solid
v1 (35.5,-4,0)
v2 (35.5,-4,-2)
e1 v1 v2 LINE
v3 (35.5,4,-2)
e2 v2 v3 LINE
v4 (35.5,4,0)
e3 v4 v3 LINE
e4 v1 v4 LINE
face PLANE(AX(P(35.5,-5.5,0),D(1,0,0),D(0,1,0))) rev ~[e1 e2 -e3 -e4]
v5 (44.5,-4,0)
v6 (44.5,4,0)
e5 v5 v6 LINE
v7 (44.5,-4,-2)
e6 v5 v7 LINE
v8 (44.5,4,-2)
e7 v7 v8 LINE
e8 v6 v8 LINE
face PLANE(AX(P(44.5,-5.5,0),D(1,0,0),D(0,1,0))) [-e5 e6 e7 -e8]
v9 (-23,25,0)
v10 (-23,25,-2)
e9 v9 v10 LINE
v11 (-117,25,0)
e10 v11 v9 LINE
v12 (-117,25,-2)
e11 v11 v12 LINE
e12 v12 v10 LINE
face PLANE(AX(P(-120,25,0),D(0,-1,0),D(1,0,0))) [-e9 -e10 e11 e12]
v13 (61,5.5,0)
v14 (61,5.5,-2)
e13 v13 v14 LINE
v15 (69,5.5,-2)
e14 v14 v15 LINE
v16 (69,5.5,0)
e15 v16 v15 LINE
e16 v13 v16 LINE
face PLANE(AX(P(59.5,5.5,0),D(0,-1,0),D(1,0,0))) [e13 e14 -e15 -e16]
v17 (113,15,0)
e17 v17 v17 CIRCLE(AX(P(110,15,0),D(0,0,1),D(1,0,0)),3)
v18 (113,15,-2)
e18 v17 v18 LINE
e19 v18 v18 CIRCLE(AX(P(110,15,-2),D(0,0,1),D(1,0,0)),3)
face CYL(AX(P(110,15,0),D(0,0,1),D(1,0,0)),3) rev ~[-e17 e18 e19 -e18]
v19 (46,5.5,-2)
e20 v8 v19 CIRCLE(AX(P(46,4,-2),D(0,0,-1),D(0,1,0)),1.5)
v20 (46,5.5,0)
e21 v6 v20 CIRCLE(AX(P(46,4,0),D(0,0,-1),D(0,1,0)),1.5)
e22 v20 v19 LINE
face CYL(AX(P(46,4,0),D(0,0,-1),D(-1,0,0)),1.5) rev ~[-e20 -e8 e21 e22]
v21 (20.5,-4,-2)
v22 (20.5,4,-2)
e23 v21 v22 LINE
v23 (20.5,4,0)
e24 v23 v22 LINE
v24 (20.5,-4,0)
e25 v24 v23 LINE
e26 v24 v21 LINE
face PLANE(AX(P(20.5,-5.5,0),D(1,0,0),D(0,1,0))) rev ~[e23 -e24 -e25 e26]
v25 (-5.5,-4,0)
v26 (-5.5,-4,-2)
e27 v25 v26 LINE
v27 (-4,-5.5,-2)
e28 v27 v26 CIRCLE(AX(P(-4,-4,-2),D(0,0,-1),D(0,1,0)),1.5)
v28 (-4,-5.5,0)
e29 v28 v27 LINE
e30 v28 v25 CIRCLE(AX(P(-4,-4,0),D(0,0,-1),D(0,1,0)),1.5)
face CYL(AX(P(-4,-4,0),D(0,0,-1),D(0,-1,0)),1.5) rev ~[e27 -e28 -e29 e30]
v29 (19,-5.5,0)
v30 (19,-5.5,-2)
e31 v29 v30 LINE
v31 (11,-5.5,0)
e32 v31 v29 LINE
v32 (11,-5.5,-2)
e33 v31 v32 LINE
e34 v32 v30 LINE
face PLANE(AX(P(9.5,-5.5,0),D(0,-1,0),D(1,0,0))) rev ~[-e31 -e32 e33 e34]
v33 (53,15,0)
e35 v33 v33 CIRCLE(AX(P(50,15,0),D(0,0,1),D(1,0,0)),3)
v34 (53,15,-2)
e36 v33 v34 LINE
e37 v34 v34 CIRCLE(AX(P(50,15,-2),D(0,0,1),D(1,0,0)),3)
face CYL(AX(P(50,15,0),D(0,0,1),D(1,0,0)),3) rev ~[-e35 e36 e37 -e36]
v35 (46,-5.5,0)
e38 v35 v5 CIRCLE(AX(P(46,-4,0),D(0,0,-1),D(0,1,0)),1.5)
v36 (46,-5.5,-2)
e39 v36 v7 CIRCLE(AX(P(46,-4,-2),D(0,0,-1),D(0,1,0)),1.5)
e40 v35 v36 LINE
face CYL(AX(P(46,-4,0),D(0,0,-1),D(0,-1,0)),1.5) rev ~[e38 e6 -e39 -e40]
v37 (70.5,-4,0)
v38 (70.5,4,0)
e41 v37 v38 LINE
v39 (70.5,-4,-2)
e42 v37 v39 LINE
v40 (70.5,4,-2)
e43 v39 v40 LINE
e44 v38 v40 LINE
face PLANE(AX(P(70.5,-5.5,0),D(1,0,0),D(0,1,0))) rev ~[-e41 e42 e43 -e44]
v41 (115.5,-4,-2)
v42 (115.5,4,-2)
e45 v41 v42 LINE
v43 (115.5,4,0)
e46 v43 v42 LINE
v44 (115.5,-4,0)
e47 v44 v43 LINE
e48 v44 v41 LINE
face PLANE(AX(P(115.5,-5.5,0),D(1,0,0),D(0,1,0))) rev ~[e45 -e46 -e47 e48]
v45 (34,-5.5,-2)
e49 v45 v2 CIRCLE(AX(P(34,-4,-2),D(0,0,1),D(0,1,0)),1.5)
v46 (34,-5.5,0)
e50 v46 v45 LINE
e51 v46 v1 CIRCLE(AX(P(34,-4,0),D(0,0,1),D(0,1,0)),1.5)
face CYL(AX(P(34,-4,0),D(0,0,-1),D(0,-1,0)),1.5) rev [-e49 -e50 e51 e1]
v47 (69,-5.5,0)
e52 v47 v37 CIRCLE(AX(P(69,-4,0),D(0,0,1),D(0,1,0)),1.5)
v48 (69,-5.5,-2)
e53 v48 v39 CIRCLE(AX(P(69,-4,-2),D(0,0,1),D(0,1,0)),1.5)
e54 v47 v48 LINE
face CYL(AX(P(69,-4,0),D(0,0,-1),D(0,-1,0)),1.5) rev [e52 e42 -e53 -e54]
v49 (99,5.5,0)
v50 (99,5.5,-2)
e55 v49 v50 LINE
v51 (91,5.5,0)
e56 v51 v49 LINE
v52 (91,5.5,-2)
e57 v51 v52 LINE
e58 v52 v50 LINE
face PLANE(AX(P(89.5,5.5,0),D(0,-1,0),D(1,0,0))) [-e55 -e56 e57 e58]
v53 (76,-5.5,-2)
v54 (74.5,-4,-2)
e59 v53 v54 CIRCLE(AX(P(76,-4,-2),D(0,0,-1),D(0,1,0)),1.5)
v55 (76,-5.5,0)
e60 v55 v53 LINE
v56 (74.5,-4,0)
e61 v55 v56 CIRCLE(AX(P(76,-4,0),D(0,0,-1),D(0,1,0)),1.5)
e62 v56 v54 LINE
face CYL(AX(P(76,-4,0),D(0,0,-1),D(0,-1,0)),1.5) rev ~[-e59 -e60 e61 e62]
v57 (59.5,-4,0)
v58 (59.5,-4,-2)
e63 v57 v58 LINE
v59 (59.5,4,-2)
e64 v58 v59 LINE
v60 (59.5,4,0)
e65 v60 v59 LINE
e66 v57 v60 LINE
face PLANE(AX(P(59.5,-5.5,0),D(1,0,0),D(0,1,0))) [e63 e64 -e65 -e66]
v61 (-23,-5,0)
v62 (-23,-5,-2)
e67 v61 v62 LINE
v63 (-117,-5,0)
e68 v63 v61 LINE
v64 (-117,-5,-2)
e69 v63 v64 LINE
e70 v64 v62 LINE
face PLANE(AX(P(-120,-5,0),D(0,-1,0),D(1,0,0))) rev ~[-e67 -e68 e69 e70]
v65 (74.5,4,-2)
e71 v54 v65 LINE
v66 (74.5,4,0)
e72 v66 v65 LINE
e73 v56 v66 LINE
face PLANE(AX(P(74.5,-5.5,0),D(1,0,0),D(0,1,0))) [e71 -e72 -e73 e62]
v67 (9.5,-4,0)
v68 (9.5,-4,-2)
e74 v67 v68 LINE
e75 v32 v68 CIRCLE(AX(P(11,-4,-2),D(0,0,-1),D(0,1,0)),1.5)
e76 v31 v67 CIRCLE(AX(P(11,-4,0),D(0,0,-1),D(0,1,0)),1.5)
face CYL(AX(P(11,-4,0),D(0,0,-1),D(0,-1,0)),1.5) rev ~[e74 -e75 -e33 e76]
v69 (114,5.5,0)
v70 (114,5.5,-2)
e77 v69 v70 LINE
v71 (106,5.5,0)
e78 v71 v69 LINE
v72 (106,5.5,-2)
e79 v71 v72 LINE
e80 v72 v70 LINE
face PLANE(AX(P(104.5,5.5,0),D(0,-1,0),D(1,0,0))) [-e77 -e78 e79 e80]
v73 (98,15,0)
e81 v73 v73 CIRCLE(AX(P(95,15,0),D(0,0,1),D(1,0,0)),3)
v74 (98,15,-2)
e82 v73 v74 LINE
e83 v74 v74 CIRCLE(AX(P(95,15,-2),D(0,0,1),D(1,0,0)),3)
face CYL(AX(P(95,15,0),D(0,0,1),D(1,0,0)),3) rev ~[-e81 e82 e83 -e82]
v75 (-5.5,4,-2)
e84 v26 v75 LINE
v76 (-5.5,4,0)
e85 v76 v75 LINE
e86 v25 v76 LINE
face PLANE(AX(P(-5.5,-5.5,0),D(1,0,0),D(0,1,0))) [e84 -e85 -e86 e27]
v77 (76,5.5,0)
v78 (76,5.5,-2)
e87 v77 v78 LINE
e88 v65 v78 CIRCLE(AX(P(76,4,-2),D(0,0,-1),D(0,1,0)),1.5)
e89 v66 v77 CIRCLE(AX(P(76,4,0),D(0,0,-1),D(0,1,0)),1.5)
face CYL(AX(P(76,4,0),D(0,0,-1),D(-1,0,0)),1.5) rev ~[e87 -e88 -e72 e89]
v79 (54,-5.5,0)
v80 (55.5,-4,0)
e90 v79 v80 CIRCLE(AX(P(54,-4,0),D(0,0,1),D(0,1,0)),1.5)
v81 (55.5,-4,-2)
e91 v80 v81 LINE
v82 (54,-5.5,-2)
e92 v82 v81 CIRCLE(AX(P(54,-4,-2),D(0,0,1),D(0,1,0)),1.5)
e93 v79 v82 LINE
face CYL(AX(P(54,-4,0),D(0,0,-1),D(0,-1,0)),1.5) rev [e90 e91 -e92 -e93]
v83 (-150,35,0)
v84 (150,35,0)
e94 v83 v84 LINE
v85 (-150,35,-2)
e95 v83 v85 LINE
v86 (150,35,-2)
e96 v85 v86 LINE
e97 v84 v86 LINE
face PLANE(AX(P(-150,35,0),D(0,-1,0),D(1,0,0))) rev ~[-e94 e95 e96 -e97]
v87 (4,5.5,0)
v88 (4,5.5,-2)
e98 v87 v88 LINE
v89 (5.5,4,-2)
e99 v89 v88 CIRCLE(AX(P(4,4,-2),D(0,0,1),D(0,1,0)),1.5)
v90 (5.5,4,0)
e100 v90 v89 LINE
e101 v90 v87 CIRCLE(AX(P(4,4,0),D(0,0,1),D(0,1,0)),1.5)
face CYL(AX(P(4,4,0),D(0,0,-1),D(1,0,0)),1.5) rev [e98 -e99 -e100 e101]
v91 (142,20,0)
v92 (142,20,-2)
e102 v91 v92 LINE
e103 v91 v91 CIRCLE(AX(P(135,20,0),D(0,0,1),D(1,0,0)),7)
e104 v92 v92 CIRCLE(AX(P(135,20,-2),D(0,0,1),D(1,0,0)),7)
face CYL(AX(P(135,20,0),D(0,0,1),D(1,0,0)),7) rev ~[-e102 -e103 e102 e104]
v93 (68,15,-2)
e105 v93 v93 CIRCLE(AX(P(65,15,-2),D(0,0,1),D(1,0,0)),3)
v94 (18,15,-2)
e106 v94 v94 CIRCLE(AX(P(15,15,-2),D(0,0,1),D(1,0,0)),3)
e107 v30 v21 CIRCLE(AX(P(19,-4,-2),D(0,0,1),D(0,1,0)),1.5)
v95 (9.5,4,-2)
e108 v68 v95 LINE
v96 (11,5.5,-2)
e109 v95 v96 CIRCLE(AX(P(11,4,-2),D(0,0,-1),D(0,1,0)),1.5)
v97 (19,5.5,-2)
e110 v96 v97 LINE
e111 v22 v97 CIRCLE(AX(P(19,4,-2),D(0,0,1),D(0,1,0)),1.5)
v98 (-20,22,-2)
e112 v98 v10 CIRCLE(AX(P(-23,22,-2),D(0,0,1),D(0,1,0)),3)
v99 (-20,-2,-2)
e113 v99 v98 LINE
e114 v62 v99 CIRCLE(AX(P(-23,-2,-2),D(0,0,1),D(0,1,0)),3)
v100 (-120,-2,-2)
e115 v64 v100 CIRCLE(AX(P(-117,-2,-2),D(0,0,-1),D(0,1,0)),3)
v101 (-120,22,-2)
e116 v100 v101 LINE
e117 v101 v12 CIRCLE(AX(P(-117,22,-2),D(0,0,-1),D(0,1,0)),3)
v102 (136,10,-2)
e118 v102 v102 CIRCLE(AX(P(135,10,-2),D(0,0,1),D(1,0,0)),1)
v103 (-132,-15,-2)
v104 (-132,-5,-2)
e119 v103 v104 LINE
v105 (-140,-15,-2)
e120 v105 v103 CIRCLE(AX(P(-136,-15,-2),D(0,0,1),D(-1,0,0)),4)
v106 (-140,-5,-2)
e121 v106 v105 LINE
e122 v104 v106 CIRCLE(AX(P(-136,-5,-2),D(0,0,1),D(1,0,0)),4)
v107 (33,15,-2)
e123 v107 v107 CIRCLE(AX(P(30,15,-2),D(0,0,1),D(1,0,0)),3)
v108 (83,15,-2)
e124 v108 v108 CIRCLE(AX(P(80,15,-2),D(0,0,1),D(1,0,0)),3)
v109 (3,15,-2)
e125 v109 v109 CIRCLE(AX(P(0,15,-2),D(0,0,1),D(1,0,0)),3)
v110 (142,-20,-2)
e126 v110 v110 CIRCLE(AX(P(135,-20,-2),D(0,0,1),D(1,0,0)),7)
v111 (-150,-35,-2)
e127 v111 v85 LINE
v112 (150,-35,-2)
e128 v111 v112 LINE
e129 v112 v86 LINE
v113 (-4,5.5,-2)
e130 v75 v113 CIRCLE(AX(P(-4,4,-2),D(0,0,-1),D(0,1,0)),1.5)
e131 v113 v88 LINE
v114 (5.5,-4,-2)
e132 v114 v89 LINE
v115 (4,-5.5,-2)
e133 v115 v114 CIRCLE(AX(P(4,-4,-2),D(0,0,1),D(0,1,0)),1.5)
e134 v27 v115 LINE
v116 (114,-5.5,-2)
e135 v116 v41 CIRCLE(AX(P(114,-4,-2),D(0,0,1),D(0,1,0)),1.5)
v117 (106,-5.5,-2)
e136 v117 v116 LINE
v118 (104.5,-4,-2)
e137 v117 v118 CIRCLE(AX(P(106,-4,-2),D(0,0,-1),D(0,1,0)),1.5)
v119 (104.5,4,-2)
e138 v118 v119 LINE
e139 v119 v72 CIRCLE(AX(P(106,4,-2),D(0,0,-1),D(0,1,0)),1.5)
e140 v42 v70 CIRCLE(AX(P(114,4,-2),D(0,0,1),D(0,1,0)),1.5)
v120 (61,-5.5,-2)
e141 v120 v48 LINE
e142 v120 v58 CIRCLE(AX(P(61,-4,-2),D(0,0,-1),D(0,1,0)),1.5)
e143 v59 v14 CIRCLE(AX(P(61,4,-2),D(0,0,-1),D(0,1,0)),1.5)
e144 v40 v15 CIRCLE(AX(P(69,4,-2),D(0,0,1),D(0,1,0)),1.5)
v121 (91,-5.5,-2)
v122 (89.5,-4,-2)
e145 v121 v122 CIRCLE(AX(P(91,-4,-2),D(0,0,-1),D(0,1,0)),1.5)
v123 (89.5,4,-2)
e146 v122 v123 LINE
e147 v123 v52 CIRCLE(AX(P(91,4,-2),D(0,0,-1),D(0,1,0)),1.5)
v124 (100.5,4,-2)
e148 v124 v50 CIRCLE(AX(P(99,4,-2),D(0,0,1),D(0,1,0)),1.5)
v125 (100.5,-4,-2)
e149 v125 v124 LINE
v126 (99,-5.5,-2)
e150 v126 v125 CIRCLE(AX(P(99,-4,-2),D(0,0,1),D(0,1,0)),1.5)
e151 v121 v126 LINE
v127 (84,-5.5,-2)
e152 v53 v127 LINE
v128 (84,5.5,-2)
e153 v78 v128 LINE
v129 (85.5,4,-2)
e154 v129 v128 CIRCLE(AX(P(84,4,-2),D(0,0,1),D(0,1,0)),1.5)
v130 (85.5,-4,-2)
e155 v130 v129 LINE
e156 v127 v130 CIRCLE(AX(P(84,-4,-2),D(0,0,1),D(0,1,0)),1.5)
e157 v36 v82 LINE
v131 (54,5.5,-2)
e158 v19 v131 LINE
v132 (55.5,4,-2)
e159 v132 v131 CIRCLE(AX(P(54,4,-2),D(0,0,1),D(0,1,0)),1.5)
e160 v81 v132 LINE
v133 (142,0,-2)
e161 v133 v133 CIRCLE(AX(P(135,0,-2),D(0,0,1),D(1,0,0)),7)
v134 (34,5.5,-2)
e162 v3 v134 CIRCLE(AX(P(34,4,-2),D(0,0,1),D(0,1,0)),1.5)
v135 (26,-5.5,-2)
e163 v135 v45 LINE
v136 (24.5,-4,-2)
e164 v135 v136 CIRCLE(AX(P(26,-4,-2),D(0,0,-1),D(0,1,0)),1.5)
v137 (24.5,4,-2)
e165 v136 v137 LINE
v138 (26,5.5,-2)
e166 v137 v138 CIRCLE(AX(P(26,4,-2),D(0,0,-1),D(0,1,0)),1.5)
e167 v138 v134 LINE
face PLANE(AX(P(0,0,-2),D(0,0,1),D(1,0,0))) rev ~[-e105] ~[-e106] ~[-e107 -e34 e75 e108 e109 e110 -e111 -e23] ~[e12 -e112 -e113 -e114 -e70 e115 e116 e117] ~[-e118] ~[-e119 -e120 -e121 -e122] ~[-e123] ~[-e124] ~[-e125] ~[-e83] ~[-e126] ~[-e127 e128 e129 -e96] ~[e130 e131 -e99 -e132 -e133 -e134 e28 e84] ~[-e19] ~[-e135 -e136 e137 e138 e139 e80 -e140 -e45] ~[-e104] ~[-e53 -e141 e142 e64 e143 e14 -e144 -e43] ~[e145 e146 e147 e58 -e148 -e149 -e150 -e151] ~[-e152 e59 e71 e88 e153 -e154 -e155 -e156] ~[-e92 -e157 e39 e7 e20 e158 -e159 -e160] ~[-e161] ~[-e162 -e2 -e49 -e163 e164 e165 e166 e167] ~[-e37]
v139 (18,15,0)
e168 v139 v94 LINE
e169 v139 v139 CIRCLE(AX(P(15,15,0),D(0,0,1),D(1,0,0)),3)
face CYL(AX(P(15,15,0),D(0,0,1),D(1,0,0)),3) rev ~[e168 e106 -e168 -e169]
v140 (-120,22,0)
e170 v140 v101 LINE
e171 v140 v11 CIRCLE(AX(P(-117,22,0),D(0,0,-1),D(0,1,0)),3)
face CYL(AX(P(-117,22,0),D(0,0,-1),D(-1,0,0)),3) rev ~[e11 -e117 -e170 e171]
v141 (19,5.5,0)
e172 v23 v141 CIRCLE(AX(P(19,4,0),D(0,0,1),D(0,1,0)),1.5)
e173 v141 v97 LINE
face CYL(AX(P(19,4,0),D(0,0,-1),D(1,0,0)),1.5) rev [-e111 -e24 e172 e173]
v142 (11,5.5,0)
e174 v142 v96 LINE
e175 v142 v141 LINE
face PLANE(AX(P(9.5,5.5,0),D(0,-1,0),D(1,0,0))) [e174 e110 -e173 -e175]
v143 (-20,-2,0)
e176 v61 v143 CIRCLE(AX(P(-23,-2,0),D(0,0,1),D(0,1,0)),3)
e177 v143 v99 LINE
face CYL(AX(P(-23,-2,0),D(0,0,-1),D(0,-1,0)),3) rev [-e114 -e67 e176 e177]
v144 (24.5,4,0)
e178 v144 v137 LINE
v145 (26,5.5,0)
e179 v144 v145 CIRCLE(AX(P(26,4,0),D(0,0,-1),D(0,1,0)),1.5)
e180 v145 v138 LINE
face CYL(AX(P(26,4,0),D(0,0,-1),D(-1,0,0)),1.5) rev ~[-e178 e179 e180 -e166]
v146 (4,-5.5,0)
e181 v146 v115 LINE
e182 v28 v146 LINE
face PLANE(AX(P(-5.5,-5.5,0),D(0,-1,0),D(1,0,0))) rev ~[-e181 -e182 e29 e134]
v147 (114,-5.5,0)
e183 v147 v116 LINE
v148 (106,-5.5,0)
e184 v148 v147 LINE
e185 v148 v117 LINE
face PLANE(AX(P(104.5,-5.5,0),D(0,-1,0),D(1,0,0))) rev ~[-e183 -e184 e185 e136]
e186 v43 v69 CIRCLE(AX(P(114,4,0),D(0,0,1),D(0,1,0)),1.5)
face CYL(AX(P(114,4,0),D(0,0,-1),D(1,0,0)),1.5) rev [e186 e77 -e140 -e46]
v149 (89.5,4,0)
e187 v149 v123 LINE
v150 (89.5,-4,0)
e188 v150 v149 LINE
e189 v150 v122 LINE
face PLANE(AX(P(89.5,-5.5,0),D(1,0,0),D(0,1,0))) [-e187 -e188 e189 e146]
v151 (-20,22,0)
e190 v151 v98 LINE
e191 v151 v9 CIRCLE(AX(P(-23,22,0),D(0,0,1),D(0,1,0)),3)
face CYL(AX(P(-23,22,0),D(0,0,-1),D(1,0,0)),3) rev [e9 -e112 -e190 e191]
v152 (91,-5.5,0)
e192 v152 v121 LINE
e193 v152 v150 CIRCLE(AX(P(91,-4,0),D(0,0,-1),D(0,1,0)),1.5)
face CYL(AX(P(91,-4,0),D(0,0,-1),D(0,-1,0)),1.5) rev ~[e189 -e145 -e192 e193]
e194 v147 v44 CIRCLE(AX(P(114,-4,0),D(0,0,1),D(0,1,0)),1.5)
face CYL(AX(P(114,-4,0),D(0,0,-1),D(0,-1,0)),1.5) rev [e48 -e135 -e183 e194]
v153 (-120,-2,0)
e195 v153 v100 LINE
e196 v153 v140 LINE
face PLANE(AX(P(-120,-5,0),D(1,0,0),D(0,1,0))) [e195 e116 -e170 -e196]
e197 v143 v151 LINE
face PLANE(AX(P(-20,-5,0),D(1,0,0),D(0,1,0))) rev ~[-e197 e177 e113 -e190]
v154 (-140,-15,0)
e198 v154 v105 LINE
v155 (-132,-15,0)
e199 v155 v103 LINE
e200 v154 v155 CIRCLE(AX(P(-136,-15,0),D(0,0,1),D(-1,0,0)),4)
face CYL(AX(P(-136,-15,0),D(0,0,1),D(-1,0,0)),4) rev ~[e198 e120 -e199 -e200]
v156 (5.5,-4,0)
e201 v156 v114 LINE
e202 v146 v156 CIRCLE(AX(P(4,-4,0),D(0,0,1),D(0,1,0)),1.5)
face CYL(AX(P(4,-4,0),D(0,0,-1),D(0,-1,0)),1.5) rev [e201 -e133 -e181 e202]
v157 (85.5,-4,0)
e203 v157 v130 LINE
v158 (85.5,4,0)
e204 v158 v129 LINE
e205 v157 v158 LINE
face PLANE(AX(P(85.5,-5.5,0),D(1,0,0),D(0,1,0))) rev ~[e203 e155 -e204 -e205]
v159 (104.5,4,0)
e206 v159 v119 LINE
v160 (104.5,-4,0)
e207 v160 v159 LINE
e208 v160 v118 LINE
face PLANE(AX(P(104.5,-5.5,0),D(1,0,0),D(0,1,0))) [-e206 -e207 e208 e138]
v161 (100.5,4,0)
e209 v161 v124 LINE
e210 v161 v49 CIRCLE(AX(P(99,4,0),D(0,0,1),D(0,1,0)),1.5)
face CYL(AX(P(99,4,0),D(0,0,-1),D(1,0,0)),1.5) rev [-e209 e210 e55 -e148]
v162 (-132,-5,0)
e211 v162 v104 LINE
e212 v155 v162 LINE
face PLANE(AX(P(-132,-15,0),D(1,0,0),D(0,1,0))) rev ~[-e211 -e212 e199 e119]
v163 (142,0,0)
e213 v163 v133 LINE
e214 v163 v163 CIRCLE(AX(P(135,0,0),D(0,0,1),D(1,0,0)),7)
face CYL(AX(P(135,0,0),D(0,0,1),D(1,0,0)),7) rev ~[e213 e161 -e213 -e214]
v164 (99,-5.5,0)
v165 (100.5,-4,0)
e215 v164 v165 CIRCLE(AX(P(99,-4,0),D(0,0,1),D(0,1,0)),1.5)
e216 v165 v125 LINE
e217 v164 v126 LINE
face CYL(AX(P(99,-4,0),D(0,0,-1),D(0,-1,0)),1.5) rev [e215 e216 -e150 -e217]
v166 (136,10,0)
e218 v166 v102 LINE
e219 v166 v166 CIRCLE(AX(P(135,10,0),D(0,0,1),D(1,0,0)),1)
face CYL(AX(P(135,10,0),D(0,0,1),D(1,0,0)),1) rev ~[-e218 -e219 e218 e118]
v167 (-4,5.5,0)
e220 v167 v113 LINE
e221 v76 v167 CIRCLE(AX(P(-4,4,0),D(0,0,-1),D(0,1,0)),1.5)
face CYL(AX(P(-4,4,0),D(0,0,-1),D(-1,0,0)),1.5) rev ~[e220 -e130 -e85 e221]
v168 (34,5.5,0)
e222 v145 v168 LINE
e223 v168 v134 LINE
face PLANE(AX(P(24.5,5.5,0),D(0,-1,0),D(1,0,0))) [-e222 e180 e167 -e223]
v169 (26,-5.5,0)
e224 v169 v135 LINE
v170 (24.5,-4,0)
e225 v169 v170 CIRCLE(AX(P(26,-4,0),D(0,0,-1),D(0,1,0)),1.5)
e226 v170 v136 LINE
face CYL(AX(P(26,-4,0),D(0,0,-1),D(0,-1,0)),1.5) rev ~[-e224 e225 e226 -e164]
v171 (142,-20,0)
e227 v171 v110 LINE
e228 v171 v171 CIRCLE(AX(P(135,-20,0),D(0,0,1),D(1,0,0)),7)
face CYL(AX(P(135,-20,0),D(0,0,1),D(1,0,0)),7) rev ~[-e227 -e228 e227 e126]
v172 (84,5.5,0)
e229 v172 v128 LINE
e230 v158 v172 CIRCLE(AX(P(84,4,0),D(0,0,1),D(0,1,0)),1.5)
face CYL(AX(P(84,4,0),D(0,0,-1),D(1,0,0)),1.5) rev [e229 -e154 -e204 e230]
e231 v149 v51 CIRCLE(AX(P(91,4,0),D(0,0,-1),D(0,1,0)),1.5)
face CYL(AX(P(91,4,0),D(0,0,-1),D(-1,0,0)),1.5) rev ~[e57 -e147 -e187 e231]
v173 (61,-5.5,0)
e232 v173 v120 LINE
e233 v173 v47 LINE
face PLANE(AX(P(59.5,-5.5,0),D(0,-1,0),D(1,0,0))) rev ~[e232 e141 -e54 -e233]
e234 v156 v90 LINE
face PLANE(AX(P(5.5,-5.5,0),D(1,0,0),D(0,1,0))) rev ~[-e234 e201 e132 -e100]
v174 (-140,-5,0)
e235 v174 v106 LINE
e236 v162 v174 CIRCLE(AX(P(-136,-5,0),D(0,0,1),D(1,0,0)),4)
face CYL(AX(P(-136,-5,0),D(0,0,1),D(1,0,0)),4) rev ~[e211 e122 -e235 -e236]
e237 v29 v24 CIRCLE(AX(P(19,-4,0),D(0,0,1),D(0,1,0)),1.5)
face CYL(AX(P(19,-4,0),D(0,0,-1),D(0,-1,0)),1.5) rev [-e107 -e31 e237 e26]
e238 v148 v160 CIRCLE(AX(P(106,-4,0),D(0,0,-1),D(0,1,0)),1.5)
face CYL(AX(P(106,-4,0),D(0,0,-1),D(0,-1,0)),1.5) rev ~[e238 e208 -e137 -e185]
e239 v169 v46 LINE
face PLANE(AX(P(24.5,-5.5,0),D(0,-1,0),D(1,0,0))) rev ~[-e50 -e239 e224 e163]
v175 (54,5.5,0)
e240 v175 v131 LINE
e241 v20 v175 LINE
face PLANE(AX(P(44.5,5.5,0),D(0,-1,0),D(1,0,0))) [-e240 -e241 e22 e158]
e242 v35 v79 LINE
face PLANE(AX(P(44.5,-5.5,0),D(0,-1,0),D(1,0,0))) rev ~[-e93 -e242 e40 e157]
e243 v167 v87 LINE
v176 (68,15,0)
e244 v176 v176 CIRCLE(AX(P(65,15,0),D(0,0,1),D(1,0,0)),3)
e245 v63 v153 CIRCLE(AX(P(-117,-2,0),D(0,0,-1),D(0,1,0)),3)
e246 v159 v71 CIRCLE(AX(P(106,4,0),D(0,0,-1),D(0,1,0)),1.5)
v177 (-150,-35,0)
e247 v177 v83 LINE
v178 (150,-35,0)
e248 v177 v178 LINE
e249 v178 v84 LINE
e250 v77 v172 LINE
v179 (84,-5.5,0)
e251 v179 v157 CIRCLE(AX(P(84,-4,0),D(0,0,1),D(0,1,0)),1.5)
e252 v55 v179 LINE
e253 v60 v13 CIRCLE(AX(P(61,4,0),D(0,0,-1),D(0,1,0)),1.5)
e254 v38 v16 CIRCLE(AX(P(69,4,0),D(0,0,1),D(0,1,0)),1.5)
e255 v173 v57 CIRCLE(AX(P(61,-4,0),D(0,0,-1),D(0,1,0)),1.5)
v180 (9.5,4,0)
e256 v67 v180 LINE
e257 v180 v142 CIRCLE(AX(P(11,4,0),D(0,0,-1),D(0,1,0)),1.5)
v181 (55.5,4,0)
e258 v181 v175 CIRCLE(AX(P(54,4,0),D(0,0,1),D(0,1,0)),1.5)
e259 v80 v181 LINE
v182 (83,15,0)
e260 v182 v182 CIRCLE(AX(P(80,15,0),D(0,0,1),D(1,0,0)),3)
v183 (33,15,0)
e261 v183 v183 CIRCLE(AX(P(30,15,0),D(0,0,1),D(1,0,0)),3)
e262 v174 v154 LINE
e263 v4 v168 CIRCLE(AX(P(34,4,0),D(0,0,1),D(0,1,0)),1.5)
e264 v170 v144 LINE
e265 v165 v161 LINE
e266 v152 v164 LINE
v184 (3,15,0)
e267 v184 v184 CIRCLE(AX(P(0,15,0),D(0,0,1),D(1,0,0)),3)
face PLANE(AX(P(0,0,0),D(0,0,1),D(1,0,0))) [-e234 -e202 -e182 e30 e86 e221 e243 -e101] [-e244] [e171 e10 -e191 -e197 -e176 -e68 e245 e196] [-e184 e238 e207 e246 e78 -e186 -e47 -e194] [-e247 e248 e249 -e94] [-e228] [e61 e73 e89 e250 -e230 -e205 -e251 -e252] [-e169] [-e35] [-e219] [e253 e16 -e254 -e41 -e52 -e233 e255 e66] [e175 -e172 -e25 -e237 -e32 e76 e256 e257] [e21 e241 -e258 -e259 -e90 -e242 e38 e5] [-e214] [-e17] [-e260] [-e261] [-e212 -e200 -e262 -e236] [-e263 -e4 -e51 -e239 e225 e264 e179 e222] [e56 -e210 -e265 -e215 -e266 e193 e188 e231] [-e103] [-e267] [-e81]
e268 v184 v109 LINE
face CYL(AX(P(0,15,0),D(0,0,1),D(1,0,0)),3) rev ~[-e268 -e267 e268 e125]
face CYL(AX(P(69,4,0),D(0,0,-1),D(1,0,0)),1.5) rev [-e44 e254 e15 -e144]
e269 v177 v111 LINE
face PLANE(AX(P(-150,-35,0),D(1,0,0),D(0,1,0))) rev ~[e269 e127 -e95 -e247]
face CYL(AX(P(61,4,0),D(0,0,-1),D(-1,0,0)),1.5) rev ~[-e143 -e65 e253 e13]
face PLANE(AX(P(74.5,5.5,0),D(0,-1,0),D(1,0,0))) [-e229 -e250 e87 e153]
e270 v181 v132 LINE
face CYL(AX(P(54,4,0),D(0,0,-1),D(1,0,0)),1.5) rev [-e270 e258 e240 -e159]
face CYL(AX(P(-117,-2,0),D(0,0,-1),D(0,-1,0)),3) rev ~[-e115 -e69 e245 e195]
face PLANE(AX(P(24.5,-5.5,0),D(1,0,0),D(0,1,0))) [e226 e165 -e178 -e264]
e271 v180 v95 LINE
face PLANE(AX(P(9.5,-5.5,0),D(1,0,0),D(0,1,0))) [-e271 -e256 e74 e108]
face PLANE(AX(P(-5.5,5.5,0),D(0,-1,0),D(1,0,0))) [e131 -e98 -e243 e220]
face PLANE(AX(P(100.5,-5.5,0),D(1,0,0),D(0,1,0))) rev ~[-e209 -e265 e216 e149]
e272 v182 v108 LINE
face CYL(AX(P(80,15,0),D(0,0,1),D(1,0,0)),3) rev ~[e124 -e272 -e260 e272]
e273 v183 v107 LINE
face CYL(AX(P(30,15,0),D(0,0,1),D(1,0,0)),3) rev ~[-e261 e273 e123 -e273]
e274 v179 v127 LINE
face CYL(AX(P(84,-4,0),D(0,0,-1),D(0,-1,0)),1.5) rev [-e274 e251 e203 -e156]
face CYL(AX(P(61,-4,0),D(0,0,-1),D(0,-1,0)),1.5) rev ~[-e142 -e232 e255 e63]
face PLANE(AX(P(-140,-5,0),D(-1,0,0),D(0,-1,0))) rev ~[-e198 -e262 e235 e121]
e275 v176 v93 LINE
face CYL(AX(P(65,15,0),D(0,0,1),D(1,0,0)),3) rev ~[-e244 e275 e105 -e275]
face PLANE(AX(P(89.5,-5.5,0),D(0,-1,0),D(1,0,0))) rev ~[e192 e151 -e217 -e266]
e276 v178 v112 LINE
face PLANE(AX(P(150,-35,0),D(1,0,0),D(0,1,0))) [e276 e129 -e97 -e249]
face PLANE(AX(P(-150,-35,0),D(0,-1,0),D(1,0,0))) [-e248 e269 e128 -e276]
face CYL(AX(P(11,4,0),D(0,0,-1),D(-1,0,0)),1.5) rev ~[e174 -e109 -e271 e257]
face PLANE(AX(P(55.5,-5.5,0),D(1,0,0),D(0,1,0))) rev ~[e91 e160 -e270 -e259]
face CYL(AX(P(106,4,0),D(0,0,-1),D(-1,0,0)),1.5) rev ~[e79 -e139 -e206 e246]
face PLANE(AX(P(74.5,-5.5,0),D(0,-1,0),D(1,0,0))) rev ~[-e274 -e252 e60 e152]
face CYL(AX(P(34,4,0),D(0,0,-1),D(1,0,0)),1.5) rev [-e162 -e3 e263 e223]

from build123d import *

# Parameters (mm, degrees)
SKETCH_1_W          = 300
SKETCH_1_H          = 70
SKETCH_1_R          = 7
SKETCH_1_R_2        = 3
SKETCH_1_W_2        = 100
SKETCH_1_H_2        = 30
SKETCH_1_W_3        = 11
SKETCH_1_H_3        = 11
EXTRUDE_1_DEPTH     = 2
FILLET_1_R          = 1.5
FILLET_2_R          = 3
SKETCH_2_R          = 1
CUT_EXTRUDE_1_DEPTH = 155.04220201


with BuildPart() as part:
    # Эскиз1 → Бобышка-Вытянуть1 (new body)
    with BuildSketch(Plane.XY):
        Rectangle(SKETCH_1_W, SKETCH_1_H)
        with Locations((135, 20)):
            Circle(SKETCH_1_R, mode=Mode.SUBTRACT)
        with Locations((135, 0)):
            Circle(SKETCH_1_R, mode=Mode.SUBTRACT)
        with Locations((135, -20)):
            Circle(SKETCH_1_R, mode=Mode.SUBTRACT)
        with Locations((110, 15)):
            Circle(SKETCH_1_R_2, mode=Mode.SUBTRACT)
        with Locations((95, 15)):
            Circle(SKETCH_1_R_2, mode=Mode.SUBTRACT)
        with Locations((80, 15)):
            Circle(SKETCH_1_R_2, mode=Mode.SUBTRACT)
        with Locations((65, 15)):
            Circle(SKETCH_1_R_2, mode=Mode.SUBTRACT)
        with Locations((50, 15)):
            Circle(SKETCH_1_R_2, mode=Mode.SUBTRACT)
        with Locations((30, 15)):
            Circle(SKETCH_1_R_2, mode=Mode.SUBTRACT)
        with Locations((15, 15)):
            Circle(SKETCH_1_R_2, mode=Mode.SUBTRACT)
        with Locations((0, 15)):
            Circle(SKETCH_1_R_2, mode=Mode.SUBTRACT)
        with Locations((-70, 10)):
            Rectangle(SKETCH_1_W_2, SKETCH_1_H_2, mode=Mode.SUBTRACT)
        with Locations((65, 0)):
            Rectangle(SKETCH_1_W_3, SKETCH_1_H_3, mode=Mode.SUBTRACT)
        with Locations((80, 0)):
            Rectangle(SKETCH_1_W_3, SKETCH_1_H_3, mode=Mode.SUBTRACT)
        with Locations((95, 0)):
            Rectangle(SKETCH_1_W_3, SKETCH_1_H_3, mode=Mode.SUBTRACT)
        with Locations((110, 0)):
            Rectangle(SKETCH_1_W_3, SKETCH_1_H_3, mode=Mode.SUBTRACT)
        with Locations((50, 0)):
            Rectangle(SKETCH_1_W_3, SKETCH_1_H_3, mode=Mode.SUBTRACT)
        with Locations((15, 0)):
            Rectangle(SKETCH_1_W_3, SKETCH_1_H_3, mode=Mode.SUBTRACT)
        with Locations((30, 0)):
            Rectangle(SKETCH_1_W_3, SKETCH_1_H_3, mode=Mode.SUBTRACT)
        Rectangle(SKETCH_1_W_3, SKETCH_1_H_3, mode=Mode.SUBTRACT)
        with BuildLine():
            Line((-140, -5), (-140, -15))
            ThreePointArc((-140, -15), (-136, -19), (-132, -15))
            Line((-132, -15), (-132, -5))
            ThreePointArc((-132, -5), (-136, -1), (-140, -5))
        make_face(mode=Mode.SUBTRACT)
    extrude(amount=-EXTRUDE_1_DEPTH)

    # Скругление1
    fillet_1_edges = [part.edges().sort_by_distance(p)[0] for p in [
        (20.5, -5.5, -1),
        (9.5, -5.5, -1),
        (9.5, 5.5, -1),
        (20.5, 5.5, -1),
        (24.5, -5.5, -1),
        (24.5, 5.5, -1),
        (35.5, 5.5, -1),
        (35.5, -5.5, -1),
        (5.5, -5.5, -1),
        (-5.5, -5.5, -1),
        (-5.5, 5.5, -1),
        (5.5, 5.5, -1),
        (59.5, 5.5, -1),
        (70.5, 5.5, -1),
        (70.5, -5.5, -1),
        (59.5, -5.5, -1),
        (74.5, -5.5, -1),
        (74.5, 5.5, -1),
        (85.5, 5.5, -1),
        (85.5, -5.5, -1),
        (89.5, 5.5, -1),
        (100.5, 5.5, -1),
        (100.5, -5.5, -1),
        (89.5, -5.5, -1),
        (104.5, 5.5, -1),
        (115.5, 5.5, -1),
        (115.5, -5.5, -1),
        (104.5, -5.5, -1),
        (44.5, -5.5, -1),
        (44.5, 5.5, -1),
        (55.5, 5.5, -1),
        (55.5, -5.5, -1),
    ]]
    fillet(fillet_1_edges, radius=FILLET_1_R)

    # Скругление2
    fillet_2_edges = [part.edges().sort_by_distance(p)[0] for p in [
        (-120, 25, -1),
        (-20, 25, -1),
        (-20, -5, -1),
        (-120, -5, -1),
    ]]
    fillet(fillet_2_edges, radius=FILLET_2_R)

    # Эскиз2 → Вырез-Вытянуть1 (cut, through all)
    with BuildSketch(Plane.XY):
        with Locations((135, 10)):
            Circle(SKETCH_2_R)
    extrude(amount=-CUT_EXTRUDE_1_DEPTH, mode=Mode.SUBTRACT)


solid = part.part
